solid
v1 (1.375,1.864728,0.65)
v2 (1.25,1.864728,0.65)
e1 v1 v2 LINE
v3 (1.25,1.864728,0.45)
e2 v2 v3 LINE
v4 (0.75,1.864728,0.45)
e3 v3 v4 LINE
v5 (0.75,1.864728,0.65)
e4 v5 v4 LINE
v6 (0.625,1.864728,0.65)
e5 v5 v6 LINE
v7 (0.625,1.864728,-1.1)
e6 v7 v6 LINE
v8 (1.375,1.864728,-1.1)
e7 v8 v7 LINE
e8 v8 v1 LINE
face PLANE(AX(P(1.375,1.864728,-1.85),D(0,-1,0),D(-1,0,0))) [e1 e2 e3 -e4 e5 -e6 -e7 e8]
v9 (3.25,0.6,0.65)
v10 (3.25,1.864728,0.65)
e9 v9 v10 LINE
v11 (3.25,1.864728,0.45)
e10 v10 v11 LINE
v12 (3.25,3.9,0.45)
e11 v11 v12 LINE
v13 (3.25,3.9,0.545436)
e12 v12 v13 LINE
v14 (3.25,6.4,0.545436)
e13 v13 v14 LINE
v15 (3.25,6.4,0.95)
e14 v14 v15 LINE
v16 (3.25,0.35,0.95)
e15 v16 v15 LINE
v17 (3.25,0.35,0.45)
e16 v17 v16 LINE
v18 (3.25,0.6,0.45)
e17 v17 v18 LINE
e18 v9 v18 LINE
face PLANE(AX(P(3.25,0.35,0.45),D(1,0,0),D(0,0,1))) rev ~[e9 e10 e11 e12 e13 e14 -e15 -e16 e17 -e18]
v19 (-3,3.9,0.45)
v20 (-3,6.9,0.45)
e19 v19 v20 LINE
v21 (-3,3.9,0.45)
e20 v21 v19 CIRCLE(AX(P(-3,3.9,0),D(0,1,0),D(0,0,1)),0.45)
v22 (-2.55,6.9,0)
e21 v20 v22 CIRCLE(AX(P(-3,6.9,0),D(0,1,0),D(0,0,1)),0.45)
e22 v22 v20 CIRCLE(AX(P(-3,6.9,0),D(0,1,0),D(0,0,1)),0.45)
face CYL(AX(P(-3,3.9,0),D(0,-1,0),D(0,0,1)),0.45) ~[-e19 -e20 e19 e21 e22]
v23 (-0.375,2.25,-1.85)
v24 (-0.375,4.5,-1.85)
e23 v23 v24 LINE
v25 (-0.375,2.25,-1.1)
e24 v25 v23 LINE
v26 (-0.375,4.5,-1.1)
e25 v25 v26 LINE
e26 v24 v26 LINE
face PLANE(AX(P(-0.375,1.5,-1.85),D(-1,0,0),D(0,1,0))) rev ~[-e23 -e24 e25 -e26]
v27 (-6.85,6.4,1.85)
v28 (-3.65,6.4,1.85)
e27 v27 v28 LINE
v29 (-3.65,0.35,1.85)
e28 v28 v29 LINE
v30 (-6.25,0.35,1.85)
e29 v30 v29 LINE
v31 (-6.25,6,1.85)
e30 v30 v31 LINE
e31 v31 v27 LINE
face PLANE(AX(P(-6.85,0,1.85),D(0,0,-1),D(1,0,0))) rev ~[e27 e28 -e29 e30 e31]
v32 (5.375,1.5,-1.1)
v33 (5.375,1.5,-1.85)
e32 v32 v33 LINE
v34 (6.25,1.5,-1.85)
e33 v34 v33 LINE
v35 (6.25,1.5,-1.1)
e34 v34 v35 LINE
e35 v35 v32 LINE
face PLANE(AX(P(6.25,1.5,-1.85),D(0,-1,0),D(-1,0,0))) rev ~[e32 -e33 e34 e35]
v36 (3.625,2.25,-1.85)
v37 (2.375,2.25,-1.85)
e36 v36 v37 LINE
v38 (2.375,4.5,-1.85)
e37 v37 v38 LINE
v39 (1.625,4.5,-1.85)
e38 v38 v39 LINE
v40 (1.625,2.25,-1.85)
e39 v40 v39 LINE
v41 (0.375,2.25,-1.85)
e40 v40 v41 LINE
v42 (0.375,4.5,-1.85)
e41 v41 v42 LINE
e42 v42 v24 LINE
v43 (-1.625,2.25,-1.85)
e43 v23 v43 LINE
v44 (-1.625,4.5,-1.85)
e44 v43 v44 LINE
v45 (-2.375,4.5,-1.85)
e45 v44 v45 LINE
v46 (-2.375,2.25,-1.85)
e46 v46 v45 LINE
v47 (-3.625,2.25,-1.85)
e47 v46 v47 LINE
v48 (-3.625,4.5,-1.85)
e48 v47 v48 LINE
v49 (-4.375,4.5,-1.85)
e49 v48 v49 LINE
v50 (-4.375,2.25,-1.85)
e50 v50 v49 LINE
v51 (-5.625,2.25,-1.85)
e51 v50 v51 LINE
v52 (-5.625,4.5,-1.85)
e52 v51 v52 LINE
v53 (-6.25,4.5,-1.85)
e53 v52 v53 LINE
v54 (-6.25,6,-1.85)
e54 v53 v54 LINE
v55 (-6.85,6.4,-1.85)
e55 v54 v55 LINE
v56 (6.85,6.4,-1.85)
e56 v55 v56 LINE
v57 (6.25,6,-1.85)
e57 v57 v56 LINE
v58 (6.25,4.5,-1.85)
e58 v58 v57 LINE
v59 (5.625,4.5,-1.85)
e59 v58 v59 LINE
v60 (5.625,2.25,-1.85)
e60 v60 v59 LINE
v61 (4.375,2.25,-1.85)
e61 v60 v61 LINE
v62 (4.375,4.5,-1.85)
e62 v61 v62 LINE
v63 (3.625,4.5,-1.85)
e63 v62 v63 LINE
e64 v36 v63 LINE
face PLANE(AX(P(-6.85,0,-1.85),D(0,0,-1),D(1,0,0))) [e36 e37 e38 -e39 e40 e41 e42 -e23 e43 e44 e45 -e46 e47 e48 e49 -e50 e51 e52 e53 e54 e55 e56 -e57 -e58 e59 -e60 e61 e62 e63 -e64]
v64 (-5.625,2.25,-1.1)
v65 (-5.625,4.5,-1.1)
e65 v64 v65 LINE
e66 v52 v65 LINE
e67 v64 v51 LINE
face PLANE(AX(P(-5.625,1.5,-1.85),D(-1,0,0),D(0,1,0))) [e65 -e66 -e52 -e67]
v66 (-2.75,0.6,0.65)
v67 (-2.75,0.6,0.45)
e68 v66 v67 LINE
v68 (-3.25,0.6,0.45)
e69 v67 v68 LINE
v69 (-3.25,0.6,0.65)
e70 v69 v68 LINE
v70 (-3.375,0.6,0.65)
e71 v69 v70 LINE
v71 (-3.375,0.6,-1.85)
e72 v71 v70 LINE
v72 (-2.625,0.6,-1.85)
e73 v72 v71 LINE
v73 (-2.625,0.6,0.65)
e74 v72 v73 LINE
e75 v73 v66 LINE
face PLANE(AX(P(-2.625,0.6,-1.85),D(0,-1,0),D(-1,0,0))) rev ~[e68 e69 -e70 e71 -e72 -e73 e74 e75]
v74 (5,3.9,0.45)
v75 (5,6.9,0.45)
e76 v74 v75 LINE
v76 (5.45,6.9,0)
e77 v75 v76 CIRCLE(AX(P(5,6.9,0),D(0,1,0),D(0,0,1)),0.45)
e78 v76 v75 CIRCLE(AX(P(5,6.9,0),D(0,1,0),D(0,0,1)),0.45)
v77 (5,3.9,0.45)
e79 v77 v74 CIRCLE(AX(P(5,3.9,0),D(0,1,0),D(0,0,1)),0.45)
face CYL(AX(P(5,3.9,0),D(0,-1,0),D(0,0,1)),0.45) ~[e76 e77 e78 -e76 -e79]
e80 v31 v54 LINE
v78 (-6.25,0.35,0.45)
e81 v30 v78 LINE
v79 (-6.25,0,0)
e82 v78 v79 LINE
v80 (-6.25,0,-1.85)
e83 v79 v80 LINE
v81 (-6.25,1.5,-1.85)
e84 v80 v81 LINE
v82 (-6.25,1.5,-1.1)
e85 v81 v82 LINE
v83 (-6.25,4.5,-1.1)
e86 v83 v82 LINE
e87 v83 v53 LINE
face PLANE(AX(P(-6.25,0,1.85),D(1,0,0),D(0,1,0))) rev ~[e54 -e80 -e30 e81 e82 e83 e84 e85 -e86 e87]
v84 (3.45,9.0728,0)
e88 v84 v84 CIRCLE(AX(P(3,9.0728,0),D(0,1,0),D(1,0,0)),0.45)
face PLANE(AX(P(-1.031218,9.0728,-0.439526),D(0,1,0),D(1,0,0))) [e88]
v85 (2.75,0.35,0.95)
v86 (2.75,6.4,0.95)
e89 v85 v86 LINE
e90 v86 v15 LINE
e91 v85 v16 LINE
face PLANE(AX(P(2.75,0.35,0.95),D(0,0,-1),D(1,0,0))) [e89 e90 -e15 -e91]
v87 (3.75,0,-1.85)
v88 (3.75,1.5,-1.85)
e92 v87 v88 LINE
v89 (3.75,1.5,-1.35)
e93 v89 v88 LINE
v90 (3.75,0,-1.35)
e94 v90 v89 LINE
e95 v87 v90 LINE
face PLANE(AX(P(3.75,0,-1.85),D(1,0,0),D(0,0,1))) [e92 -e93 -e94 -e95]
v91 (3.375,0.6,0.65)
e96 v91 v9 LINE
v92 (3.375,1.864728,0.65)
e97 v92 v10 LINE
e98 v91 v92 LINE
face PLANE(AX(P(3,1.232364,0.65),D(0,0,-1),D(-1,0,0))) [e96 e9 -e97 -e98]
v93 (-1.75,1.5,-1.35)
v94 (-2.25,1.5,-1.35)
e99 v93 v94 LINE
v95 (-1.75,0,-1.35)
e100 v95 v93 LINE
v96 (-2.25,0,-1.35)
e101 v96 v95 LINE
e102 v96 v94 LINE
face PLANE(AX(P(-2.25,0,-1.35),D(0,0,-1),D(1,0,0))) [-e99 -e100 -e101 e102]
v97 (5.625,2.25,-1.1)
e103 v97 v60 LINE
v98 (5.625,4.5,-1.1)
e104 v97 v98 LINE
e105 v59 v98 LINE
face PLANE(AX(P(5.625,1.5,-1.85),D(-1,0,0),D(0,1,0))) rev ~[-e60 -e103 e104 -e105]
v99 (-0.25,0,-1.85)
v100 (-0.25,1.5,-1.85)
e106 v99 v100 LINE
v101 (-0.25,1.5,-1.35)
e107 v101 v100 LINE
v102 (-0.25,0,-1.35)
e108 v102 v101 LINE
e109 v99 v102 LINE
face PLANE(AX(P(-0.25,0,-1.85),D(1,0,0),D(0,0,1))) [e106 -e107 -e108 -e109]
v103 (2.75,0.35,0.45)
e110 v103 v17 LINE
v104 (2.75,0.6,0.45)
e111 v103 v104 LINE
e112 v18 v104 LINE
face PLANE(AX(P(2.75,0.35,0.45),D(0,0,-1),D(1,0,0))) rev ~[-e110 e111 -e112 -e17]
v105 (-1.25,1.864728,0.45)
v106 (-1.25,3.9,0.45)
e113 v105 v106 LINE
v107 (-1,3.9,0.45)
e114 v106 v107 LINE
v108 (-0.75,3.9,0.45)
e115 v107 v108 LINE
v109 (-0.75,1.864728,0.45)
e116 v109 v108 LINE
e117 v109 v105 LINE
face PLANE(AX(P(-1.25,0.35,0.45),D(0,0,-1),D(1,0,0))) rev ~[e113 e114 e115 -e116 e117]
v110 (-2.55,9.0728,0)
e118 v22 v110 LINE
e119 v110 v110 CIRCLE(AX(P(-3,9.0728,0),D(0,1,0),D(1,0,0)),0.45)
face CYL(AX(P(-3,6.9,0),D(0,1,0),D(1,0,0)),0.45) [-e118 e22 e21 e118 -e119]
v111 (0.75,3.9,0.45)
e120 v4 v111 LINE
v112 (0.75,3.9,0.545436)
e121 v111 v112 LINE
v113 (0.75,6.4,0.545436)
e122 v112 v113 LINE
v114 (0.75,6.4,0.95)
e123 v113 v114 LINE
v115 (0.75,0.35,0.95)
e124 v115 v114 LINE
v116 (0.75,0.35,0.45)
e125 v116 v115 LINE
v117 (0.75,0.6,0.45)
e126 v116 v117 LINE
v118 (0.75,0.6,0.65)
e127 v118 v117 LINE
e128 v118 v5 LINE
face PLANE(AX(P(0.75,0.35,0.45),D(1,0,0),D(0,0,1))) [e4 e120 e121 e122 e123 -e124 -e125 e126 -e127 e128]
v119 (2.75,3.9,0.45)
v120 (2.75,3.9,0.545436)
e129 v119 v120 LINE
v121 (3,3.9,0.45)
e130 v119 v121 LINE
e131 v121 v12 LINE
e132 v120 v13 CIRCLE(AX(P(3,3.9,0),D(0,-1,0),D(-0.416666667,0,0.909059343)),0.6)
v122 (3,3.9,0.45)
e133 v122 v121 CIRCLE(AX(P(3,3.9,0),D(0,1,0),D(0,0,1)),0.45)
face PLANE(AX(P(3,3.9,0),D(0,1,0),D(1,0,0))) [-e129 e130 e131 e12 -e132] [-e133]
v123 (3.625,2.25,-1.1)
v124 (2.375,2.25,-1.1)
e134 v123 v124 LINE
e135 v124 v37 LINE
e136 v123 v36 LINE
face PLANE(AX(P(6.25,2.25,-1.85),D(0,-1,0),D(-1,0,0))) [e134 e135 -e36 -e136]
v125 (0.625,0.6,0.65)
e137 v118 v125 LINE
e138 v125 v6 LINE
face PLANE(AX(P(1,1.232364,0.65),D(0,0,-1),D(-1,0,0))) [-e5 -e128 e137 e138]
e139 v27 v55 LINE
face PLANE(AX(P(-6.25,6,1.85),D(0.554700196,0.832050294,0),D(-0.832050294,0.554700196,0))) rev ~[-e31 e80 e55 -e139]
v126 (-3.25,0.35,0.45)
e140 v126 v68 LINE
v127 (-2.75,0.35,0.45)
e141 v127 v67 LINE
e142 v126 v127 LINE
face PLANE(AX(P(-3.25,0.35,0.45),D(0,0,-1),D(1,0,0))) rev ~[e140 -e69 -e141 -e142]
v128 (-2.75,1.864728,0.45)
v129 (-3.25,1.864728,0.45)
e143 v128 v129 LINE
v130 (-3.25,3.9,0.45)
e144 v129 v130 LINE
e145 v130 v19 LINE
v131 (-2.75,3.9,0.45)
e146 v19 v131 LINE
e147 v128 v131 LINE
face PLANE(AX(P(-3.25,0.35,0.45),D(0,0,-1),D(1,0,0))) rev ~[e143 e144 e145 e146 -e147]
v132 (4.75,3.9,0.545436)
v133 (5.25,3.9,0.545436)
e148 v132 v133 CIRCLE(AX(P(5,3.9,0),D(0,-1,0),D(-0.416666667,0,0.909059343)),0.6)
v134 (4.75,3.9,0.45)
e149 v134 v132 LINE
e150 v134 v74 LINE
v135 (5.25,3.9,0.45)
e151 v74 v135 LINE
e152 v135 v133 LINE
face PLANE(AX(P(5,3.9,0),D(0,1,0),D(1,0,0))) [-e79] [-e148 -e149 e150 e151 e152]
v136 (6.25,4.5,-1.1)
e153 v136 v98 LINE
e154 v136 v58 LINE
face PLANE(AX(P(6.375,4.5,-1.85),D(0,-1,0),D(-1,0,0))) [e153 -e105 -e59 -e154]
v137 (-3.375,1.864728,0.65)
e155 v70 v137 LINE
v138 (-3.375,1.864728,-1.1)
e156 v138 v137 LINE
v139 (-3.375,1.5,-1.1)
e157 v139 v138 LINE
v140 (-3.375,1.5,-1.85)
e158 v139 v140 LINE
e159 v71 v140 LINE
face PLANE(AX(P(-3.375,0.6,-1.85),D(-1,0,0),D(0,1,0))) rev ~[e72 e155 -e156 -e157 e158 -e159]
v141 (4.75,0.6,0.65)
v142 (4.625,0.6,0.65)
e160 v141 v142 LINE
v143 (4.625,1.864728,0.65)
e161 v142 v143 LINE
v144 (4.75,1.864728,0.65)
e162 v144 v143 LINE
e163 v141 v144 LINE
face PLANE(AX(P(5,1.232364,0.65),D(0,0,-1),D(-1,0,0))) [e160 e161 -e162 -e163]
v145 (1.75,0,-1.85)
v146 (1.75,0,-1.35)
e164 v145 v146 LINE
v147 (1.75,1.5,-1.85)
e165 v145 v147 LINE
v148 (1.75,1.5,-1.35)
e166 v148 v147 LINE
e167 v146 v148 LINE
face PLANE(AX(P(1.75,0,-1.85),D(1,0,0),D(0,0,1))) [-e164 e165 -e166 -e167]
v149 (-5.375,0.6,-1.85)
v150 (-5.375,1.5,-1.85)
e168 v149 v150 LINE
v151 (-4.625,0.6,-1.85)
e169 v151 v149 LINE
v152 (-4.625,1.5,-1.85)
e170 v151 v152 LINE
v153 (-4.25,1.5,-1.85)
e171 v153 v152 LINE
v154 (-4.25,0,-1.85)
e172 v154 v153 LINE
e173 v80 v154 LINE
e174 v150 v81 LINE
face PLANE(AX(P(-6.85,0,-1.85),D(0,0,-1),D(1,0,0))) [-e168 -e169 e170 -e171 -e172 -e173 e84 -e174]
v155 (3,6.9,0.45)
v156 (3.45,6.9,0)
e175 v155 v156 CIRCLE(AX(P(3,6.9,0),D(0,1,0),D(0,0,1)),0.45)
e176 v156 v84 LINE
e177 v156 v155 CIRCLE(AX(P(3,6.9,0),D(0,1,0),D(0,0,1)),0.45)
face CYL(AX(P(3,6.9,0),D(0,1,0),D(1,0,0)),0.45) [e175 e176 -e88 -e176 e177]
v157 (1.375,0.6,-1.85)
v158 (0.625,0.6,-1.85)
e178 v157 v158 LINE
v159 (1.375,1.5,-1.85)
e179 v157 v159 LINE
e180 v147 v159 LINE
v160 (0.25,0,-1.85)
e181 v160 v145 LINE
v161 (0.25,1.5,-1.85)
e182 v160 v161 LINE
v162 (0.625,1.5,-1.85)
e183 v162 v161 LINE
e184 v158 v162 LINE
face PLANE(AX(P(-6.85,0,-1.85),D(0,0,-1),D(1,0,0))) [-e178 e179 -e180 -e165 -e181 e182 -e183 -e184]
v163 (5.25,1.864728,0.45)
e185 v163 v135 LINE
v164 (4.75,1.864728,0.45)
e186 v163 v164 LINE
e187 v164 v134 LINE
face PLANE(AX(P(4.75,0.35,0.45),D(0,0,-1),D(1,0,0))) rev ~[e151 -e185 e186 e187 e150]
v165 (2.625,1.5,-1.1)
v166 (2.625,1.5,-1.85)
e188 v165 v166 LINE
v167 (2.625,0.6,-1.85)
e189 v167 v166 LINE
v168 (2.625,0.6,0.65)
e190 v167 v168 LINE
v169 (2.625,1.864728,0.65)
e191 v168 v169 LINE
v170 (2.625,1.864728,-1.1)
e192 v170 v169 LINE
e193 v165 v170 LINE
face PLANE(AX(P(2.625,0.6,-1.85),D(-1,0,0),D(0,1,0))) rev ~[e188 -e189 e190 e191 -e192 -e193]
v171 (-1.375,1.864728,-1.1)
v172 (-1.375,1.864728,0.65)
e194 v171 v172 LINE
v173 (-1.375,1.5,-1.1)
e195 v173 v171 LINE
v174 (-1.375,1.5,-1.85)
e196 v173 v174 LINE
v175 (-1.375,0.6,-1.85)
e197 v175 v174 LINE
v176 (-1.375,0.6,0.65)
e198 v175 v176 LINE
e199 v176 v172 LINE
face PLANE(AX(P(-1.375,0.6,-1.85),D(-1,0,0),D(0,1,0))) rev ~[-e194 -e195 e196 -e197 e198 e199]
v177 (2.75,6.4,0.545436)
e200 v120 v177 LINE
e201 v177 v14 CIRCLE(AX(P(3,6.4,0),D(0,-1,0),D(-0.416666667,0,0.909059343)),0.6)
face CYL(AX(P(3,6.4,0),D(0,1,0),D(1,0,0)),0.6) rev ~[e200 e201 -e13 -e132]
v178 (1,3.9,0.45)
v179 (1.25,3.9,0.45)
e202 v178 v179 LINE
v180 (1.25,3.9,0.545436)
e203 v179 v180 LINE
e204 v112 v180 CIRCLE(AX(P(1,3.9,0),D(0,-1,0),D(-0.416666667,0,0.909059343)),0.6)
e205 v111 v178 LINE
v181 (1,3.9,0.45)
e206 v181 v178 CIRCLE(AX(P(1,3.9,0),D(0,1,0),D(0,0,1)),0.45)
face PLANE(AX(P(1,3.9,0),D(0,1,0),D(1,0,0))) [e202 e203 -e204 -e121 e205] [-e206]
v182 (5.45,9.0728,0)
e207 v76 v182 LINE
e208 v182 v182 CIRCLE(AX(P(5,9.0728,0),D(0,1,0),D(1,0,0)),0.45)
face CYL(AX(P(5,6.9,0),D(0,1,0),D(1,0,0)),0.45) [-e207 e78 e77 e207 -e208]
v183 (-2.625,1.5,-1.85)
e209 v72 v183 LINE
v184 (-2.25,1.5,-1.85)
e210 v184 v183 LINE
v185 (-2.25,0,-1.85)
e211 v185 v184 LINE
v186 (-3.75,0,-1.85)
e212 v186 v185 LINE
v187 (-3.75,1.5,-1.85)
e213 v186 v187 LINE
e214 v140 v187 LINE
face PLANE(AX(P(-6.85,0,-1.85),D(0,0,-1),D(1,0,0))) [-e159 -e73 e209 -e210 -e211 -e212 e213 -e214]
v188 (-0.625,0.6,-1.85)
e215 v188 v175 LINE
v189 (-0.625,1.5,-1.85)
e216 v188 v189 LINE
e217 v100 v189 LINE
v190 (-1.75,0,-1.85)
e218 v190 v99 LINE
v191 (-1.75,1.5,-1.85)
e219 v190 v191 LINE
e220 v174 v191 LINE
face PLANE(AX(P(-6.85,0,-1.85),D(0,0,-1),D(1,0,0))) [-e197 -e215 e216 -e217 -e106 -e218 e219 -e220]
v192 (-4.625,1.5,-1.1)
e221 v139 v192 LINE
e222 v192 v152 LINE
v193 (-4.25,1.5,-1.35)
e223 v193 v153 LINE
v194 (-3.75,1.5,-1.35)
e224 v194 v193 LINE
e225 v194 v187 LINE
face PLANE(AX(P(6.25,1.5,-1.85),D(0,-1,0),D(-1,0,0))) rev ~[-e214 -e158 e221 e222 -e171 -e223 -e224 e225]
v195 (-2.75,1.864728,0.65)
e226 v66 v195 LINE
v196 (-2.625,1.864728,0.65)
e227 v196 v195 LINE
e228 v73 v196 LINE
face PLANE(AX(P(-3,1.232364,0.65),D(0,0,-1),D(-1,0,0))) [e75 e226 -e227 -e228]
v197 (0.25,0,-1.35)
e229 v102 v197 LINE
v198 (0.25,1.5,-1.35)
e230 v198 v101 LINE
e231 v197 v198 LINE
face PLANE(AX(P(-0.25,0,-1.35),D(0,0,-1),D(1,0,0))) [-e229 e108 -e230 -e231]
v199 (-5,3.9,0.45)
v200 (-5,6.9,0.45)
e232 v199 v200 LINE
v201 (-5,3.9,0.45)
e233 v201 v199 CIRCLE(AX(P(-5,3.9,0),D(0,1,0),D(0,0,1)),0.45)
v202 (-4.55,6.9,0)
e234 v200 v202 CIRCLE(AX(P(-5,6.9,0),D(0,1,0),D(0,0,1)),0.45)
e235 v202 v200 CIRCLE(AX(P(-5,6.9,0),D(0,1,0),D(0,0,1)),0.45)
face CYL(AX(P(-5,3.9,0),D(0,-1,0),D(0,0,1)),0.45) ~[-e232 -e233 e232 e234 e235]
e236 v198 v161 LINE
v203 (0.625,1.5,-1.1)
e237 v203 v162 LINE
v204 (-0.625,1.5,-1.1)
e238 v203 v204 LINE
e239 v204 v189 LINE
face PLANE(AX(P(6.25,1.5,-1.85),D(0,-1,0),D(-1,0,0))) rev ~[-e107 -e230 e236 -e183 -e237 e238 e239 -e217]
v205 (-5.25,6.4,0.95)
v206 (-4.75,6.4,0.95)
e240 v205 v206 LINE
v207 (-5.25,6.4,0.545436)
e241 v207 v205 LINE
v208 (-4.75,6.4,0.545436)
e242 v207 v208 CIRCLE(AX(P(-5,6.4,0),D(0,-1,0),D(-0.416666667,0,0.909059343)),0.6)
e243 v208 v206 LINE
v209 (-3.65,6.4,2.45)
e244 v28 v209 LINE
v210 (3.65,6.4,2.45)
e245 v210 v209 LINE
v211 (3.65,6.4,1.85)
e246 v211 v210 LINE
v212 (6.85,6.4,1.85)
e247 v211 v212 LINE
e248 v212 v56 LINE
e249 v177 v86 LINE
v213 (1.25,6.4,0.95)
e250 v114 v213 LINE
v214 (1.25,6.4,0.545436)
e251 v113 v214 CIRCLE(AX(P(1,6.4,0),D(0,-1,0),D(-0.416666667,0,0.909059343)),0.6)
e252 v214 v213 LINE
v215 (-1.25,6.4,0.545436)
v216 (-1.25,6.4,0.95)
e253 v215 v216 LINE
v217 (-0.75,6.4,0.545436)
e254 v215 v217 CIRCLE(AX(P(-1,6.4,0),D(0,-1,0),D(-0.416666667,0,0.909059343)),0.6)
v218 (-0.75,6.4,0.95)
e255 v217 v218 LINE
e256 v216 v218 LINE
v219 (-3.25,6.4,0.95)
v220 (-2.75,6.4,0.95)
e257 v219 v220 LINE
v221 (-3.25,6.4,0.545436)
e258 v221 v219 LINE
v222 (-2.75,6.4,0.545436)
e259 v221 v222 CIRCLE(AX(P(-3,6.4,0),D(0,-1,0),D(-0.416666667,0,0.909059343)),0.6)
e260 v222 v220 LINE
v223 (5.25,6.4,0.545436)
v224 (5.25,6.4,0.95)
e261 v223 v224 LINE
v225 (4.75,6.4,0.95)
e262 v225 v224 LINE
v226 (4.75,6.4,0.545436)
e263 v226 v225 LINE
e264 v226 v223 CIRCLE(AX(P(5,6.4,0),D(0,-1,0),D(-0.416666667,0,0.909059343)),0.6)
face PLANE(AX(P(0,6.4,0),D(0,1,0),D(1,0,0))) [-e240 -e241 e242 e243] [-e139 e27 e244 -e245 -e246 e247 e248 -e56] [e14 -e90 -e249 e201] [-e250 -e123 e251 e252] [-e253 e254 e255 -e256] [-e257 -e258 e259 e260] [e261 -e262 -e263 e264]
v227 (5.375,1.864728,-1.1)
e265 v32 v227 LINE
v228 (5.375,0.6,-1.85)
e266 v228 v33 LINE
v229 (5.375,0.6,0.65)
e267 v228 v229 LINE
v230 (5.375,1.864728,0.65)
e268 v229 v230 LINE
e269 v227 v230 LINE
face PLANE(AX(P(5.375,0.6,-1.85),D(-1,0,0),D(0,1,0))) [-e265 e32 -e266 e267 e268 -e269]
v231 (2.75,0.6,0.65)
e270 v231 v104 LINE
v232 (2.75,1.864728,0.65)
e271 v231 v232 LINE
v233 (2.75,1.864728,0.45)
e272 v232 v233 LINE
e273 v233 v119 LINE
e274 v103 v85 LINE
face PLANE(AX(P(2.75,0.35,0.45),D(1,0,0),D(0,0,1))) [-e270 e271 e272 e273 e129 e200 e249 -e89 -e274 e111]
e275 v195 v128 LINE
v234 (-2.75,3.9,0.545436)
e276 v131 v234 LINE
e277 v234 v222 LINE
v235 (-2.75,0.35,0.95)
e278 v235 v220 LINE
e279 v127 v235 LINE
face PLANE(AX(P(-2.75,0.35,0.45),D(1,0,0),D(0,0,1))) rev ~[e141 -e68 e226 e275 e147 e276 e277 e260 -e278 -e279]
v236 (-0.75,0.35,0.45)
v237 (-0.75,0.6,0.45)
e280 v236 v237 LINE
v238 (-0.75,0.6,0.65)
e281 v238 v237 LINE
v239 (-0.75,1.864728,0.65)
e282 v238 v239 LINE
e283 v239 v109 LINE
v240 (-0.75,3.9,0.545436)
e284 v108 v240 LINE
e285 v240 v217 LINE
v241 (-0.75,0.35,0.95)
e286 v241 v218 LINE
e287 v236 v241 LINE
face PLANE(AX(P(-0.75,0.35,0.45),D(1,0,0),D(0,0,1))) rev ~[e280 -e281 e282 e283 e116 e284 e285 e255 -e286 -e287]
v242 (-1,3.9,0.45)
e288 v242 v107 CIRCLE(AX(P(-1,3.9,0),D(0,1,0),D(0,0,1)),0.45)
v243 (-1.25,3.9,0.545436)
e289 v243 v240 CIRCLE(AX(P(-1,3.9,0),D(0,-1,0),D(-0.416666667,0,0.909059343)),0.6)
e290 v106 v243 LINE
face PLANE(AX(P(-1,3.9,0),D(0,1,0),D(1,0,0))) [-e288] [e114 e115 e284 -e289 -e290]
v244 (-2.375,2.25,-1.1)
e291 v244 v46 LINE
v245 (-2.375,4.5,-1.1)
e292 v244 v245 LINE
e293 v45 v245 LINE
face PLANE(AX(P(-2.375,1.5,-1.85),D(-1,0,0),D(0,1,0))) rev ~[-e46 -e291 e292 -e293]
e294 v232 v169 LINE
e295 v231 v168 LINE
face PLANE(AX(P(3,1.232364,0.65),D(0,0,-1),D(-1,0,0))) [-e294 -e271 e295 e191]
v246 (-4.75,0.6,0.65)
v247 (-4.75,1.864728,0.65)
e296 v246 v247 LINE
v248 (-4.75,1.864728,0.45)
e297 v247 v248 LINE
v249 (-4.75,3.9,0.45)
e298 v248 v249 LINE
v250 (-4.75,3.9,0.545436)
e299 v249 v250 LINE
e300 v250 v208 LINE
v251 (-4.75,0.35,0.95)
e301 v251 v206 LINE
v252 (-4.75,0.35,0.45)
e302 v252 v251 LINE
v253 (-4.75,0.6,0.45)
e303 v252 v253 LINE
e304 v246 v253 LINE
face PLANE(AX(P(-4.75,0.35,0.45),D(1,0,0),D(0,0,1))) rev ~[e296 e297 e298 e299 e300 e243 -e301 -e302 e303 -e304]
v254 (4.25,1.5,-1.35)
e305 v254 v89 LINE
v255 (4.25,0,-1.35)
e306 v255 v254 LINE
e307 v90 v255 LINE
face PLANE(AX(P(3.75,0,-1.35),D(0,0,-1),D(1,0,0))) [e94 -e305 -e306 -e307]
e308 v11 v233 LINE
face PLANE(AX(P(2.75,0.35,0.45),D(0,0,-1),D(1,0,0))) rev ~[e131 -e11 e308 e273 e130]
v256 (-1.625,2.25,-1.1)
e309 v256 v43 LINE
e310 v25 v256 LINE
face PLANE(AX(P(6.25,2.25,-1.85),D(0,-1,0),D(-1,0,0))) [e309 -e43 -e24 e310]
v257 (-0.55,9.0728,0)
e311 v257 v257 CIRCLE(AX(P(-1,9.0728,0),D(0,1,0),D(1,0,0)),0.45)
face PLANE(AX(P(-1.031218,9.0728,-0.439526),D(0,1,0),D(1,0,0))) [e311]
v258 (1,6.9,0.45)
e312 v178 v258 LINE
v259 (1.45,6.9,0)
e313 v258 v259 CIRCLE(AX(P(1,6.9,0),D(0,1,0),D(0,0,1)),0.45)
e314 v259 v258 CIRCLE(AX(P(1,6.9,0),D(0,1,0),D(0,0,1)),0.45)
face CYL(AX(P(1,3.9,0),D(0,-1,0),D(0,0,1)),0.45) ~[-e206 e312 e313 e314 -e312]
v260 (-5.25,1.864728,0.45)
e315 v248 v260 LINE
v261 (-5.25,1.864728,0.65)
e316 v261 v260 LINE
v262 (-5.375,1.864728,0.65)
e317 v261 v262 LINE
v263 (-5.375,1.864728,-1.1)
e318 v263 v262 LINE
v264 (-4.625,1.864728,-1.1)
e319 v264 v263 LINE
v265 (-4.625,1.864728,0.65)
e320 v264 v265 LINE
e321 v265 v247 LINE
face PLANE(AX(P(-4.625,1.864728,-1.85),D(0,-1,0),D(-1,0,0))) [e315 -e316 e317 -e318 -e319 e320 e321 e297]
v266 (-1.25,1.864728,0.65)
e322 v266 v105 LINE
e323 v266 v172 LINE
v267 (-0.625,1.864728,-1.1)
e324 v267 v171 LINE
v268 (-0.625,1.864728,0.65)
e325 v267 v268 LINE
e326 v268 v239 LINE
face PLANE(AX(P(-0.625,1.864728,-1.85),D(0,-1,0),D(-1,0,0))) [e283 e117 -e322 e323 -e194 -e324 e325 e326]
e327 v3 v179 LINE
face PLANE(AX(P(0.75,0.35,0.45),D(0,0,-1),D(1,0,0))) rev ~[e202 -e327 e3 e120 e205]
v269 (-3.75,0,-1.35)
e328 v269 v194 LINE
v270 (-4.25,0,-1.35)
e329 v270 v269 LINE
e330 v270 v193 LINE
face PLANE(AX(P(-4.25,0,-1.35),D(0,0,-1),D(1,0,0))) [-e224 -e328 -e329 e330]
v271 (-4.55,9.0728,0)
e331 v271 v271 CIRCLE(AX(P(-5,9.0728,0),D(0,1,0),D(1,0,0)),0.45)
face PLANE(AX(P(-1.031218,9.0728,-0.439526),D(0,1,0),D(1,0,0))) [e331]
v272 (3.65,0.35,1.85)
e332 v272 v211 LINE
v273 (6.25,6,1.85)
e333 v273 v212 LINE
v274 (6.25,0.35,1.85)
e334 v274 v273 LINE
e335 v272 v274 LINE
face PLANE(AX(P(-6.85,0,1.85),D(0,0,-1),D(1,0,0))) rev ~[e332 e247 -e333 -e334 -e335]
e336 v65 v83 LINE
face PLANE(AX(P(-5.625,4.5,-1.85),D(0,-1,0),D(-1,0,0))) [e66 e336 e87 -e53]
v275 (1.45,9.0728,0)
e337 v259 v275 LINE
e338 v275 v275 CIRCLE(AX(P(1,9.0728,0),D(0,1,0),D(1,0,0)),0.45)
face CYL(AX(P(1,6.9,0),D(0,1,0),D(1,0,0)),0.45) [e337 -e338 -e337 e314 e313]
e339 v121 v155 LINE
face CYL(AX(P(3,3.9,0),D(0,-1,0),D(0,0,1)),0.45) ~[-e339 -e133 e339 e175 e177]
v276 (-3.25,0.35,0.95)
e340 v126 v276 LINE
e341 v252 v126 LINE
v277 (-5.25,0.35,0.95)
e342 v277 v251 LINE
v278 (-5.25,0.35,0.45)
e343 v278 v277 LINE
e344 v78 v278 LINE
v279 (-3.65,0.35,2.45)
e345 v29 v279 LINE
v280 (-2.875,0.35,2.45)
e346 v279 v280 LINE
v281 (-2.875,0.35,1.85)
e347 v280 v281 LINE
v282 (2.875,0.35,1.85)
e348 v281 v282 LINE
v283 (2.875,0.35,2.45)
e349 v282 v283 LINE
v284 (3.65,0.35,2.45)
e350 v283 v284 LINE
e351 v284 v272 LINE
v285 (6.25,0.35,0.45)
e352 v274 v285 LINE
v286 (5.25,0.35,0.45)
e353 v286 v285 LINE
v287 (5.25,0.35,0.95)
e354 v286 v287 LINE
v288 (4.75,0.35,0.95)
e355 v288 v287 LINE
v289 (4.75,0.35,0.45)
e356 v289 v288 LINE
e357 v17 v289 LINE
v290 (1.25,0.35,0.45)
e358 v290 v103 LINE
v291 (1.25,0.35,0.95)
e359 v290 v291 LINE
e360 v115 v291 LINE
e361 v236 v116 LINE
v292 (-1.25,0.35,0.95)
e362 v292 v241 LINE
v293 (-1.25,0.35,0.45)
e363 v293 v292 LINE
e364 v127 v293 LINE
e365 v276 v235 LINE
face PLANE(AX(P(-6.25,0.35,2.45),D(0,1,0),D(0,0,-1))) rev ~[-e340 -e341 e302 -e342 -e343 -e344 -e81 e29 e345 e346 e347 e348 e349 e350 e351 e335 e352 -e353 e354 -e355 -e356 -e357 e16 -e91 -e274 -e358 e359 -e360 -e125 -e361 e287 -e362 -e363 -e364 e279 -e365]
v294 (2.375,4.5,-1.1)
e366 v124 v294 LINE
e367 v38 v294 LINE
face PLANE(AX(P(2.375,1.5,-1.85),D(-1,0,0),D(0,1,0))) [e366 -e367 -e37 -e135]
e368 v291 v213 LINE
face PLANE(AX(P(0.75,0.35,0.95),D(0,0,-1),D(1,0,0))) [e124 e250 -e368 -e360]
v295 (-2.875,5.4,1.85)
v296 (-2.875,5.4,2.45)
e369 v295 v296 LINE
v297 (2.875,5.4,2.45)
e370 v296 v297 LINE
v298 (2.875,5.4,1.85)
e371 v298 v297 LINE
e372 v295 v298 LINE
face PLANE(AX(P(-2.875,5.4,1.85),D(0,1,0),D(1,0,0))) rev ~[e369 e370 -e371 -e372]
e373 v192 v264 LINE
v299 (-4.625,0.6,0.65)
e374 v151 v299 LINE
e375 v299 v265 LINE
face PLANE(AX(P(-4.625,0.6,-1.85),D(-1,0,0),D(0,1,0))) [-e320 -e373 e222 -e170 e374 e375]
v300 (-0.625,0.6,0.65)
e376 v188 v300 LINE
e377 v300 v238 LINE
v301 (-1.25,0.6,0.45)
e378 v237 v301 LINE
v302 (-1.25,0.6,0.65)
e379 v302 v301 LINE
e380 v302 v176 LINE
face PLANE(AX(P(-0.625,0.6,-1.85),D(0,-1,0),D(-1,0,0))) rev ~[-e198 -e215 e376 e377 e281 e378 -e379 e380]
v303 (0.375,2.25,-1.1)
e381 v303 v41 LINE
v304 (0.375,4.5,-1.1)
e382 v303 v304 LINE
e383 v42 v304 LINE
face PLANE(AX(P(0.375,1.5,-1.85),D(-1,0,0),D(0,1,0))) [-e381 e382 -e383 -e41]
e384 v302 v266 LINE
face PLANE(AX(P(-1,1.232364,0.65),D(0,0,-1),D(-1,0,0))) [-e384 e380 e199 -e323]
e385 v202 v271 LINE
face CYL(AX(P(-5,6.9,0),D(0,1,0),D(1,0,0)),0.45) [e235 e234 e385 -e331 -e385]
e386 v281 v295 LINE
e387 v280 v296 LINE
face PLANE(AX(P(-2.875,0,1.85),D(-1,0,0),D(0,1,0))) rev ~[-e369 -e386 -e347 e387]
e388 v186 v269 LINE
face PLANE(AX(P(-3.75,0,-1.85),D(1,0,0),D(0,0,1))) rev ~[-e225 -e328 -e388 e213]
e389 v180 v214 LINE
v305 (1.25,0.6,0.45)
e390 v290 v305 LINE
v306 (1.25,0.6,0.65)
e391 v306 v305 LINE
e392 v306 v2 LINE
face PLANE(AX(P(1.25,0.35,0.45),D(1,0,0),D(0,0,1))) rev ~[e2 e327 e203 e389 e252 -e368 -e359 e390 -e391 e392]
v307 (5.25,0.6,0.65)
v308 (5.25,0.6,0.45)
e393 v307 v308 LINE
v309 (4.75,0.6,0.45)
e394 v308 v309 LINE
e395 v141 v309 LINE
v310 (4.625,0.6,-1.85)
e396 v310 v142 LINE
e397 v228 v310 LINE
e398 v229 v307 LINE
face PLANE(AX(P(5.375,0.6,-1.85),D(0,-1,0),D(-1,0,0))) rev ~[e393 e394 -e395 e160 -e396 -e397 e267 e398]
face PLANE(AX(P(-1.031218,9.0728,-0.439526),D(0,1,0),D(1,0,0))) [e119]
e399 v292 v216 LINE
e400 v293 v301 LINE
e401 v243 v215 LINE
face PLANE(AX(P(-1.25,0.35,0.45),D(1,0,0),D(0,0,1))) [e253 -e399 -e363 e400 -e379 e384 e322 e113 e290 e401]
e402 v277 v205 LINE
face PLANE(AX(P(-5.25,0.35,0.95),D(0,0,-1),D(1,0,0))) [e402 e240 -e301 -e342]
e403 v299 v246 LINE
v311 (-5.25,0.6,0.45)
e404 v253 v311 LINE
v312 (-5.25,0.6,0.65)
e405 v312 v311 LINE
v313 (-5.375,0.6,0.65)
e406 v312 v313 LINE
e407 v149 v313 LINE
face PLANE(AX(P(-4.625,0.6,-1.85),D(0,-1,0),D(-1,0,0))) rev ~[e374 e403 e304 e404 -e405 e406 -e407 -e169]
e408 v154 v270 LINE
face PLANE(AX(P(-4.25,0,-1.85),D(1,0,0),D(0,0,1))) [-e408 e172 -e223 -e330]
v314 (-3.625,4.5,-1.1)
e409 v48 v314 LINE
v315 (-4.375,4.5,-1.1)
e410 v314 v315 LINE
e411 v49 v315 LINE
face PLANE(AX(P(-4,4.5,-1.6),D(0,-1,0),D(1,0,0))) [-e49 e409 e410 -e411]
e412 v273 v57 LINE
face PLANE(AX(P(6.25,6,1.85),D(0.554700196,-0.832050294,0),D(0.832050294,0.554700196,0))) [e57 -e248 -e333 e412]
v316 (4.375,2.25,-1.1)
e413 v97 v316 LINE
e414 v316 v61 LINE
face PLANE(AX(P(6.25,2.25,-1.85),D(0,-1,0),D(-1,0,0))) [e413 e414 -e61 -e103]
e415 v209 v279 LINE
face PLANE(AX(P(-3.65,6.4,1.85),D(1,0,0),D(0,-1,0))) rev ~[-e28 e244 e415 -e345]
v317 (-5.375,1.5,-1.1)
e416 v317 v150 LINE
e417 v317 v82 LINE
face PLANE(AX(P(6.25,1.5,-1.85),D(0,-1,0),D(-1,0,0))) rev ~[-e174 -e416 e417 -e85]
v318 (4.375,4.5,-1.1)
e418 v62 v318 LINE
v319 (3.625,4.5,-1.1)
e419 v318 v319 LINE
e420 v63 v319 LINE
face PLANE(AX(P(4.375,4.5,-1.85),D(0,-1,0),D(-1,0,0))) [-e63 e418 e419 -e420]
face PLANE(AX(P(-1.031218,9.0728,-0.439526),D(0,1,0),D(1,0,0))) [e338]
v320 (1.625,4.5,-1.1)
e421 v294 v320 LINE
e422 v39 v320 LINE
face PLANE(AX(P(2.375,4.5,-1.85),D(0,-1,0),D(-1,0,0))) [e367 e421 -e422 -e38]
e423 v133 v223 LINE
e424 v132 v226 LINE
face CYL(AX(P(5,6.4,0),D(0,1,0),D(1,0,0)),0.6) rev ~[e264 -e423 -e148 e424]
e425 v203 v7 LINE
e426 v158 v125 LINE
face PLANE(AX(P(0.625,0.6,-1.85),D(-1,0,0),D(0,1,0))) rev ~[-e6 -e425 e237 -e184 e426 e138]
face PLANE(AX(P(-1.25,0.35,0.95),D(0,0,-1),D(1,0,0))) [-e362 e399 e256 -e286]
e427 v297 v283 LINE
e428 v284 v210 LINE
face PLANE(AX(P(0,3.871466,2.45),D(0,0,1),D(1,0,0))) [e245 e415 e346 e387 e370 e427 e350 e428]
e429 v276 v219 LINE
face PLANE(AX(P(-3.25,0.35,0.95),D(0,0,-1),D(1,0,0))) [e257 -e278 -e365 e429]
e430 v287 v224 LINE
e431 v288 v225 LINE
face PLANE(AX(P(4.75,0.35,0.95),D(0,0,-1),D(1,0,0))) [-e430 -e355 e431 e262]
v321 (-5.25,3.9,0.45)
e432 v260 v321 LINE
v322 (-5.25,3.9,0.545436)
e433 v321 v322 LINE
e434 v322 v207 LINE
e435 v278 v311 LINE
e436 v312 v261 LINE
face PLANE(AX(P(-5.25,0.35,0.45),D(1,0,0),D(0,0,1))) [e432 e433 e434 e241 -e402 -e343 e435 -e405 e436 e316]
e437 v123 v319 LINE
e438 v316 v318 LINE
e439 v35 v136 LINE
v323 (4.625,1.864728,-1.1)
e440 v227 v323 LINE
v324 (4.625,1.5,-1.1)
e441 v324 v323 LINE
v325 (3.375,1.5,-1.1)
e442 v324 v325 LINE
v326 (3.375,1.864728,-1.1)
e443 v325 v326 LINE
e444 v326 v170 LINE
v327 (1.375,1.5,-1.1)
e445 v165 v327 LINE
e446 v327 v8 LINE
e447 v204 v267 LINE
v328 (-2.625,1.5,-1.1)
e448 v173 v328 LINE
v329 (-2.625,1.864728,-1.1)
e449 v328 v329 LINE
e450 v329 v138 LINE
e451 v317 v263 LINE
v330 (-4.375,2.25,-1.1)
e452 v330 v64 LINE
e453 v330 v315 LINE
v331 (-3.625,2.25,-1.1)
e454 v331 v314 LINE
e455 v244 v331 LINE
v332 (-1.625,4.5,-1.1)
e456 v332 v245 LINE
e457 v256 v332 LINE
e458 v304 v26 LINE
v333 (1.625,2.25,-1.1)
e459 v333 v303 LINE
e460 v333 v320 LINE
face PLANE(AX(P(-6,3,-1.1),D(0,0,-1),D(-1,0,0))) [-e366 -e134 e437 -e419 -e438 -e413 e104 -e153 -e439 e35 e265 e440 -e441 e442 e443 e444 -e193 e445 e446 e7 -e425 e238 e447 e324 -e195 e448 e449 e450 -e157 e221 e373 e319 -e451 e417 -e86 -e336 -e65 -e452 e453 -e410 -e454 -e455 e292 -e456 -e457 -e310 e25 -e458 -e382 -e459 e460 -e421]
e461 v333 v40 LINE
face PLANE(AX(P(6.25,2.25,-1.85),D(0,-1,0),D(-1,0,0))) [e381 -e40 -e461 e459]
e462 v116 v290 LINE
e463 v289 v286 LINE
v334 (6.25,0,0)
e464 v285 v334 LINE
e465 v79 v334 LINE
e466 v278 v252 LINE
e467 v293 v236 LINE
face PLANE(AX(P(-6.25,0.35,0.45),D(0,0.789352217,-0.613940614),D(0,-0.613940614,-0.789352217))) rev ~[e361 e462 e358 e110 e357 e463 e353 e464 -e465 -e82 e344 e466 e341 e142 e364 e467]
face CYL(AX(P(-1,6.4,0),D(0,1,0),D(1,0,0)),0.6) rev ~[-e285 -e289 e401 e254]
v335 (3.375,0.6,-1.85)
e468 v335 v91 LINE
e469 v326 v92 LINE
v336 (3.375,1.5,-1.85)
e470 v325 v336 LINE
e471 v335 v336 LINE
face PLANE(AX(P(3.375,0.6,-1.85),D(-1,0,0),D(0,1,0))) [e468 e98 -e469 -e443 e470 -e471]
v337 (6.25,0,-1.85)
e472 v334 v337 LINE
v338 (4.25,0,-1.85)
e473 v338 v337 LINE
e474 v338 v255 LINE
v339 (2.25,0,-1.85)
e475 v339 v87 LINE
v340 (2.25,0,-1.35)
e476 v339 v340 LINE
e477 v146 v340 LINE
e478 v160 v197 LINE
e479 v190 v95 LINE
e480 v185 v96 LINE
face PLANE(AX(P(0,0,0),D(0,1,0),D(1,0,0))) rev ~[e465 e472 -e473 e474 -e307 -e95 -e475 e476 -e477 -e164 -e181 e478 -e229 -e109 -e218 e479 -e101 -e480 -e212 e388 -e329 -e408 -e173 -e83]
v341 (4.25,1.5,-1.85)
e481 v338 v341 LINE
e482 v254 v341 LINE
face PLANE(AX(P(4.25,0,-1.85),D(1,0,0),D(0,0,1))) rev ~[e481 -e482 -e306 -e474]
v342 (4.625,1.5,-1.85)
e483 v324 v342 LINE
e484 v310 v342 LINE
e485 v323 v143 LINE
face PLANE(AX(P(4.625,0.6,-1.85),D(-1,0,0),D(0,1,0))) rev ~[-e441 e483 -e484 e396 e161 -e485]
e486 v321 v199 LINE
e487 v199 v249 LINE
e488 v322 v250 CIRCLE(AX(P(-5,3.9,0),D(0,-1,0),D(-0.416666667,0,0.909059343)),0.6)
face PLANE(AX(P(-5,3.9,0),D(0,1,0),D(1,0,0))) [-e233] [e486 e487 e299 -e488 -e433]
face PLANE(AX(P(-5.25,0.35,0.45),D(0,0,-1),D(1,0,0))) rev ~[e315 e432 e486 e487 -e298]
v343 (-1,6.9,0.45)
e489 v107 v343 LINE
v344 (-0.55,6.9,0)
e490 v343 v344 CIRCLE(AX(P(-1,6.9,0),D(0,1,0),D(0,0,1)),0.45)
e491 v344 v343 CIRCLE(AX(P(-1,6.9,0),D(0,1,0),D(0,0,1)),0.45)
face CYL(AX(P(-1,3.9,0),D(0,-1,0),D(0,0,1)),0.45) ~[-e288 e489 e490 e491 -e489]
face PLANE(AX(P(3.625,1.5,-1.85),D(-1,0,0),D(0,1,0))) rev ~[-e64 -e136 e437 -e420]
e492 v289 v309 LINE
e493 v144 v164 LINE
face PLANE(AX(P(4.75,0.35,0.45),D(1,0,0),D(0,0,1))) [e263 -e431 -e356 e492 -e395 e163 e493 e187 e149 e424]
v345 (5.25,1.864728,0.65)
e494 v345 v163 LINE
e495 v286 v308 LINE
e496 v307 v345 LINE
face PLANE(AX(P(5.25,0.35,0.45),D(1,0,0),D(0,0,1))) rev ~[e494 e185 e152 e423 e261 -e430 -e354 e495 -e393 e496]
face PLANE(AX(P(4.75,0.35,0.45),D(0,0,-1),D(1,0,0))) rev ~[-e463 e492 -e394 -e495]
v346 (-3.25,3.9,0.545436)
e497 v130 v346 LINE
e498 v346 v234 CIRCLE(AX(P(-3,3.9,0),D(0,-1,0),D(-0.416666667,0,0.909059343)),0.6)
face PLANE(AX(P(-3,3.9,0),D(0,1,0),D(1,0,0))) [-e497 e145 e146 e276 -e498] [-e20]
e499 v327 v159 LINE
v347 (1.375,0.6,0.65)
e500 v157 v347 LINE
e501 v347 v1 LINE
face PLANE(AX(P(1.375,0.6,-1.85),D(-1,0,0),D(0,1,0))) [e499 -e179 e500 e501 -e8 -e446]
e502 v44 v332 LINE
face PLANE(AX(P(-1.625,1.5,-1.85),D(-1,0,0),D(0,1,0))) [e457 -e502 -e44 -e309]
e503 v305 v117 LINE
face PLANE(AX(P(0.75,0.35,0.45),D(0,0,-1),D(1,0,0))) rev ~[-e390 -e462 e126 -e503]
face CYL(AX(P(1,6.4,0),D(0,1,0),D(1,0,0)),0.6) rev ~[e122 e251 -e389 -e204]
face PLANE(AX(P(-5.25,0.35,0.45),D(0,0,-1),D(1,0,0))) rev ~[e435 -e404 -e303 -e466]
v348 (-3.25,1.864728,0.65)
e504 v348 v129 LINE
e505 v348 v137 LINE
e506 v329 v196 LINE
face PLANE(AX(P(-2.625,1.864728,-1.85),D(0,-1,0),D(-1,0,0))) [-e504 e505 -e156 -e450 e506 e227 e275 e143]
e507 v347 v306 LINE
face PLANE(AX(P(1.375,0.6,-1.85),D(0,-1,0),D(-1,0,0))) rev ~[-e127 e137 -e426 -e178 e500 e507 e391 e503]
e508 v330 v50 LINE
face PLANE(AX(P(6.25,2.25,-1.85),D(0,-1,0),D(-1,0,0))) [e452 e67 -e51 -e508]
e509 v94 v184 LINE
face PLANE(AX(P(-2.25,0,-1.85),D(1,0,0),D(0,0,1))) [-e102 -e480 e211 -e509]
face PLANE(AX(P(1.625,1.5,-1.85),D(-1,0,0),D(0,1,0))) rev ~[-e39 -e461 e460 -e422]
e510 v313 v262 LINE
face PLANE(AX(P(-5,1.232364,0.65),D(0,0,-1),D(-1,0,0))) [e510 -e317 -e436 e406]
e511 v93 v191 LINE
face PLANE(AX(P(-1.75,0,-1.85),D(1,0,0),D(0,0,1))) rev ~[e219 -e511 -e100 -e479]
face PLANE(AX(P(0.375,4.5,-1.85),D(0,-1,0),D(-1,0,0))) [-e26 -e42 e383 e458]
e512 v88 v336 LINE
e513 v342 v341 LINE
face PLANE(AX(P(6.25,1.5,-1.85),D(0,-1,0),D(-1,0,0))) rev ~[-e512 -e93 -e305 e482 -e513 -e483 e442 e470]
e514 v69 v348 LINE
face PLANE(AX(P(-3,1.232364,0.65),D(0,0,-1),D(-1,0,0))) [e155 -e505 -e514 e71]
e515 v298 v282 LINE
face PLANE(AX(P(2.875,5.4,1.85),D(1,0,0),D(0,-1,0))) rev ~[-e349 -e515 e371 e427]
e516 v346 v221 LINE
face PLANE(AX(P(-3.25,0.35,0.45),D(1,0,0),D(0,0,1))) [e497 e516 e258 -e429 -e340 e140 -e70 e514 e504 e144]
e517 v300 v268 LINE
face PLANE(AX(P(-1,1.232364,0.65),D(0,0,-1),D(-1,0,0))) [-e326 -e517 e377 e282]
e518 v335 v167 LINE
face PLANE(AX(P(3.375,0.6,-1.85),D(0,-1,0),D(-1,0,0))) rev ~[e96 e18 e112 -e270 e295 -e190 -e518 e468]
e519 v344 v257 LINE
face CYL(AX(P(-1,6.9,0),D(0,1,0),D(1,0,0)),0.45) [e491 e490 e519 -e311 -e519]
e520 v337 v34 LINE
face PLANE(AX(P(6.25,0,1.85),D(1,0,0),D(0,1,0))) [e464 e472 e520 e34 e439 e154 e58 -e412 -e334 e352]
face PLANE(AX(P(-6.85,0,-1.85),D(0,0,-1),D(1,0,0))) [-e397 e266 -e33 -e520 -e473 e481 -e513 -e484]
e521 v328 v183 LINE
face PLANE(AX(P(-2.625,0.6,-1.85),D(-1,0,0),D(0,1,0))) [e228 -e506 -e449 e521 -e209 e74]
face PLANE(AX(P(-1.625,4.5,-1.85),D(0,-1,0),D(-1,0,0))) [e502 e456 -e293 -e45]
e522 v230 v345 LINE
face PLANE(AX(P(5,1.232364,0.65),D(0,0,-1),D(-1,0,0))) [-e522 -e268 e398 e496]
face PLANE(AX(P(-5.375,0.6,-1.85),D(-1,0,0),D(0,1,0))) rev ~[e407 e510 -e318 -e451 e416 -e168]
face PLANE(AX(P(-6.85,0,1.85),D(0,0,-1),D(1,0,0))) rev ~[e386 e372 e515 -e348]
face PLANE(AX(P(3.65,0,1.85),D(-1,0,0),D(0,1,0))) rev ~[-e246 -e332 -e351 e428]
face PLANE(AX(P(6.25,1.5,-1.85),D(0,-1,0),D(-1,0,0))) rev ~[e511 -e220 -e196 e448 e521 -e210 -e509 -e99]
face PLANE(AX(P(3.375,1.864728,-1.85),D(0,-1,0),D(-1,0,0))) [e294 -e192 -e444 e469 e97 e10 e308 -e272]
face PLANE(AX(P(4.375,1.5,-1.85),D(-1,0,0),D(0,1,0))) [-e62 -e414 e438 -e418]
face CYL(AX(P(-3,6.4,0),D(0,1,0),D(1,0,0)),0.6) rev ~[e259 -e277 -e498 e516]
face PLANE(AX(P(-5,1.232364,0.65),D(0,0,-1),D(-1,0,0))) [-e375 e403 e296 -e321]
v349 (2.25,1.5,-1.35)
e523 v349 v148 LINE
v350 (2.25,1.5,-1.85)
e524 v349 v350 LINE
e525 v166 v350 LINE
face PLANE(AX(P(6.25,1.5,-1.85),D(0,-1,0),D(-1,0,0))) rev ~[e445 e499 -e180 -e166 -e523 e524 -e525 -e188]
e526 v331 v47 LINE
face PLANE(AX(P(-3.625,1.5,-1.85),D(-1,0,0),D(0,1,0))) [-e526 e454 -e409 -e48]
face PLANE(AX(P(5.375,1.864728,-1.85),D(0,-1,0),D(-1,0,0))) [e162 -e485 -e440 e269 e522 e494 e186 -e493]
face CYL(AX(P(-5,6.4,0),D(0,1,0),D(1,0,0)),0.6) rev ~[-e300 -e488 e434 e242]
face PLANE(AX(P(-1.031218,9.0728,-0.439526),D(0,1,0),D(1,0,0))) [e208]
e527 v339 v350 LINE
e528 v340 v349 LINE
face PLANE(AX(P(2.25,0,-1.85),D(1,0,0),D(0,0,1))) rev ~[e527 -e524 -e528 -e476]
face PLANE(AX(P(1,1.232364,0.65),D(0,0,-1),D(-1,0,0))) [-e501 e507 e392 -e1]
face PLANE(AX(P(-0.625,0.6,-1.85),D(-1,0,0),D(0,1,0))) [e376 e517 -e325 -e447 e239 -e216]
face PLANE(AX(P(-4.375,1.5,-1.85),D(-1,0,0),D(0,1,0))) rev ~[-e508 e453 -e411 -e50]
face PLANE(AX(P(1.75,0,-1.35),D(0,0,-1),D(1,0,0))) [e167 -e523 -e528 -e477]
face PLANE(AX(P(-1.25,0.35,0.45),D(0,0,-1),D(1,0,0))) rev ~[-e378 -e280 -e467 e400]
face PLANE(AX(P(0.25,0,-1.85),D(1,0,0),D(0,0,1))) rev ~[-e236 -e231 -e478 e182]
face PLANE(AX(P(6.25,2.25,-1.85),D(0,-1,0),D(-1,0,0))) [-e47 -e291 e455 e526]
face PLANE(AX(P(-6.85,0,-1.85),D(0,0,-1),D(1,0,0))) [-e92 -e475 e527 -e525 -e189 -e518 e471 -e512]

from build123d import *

# Parameters (mm, degrees)
SKETCH_1_W             = 13.7
SKETCH_1_H             = 3.7
EXTRUDE_1_DEPTH        = 6.4
CUT_EXTRUDE_1_REACH    = 12.078
EXTRUDE_2_DEPTH        = 0.6
CUT_EXTRUDE_2_REACH    = 16.784
SKETCH_6_W             = 0.5
SKETCH_6_H             = 0.5
CUT_EXTRUDE_3_DEPTH    = 6.05
PATTERN_LINEAR_1_COUNT = 6
PATTERN_LINEAR_1_PITCH = 2
SKETCH_7_W             = 0.5
SKETCH_7_H             = 0.5
CUT_EXTRUDE_4_DEPTH    = 4.5
PATTERN_LINEAR_2_COUNT = 5
PATTERN_LINEAR_2_PITCH = 2
SKETCH_8_W             = 12.5
SKETCH_8_H             = 0.75
CUT_EXTRUDE_5_DEPTH    = 0.75
SKETCH_9_W             = 0.75
SKETCH_9_H             = 3
CUT_EXTRUDE_6_DEPTH    = 0.75
PATTERN_LINEAR_3_COUNT = 7
PATTERN_LINEAR_3_PITCH = 2
SKETCH_10_W            = 0.75
SKETCH_10_H            = 1.264727748
CUT_EXTRUDE_7_DEPTH    = 2.5
PATTERN_LINEAR_4_COUNT = 6
PATTERN_LINEAR_4_PITCH = 2
SKETCH_11_R            = 0.6
CUT_EXTRUDE_8_DEPTH    = 2.5
PATTERN_LINEAR_5_COUNT = 6
PATTERN_LINEAR_5_PITCH = 2
SKETCH_12_R            = 0.45
EXTRUDE_4_DEPTH        = 3
PATTERN_LINEAR_6_COUNT = 6
PATTERN_LINEAR_6_PITCH = 2
SKETCH_15_R            = 0.45
PATTERN_LINEAR_7_COUNT = 6
PATTERN_LINEAR_7_PITCH = 2
SKETCH_16_W            = 19.020248072
SKETCH_16_H            = 7.063508143
CUT_EXTRUDE_9_DEPTH    = 4


with BuildPart() as part:
    # 草图1 → 凸台-拉伸1 (new body)
    with BuildSketch(Plane(origin=(0, 0, 0), x_dir=(1, 0, 0), z_dir=(0, 1, 0))):
        Rectangle(SKETCH_1_W, SKETCH_1_H)
    extrude(amount=EXTRUDE_1_DEPTH)

    # 草图2 → 切除-拉伸1 (cut, up to next)
    with BuildSketch(Plane.XY.offset(1.85), mode=Mode.PRIVATE) as cut_extrude_1_sk1:
        Polygon((-6.25, 0), (-6.25, 6), (-6.85, 6.4), (-6.85, 0), align=None)
    cut_extrude_1_tool1 = extrude(cut_extrude_1_sk1.sketch, amount=-CUT_EXTRUDE_1_REACH, mode=Mode.PRIVATE) & part.part
    # 草图2 → 切除-拉伸1 (cut, up to next)
    with BuildSketch(Plane.XY.offset(1.85), mode=Mode.PRIVATE) as cut_extrude_1_sk2:
        Polygon((6.85, 0), (6.25, 0), (6.25, 6), (6.85, 6.4), align=None)
    cut_extrude_1_tool2 = extrude(cut_extrude_1_sk2.sketch, amount=-CUT_EXTRUDE_1_REACH, mode=Mode.PRIVATE) & part.part
    add(cut_extrude_1_tool1.solids().sort_by_distance((-6.553226, 3.101075, 1.85))[0], mode=Mode.SUBTRACT)
    add(cut_extrude_1_tool2.solids().sort_by_distance((6.553226, 3.101075, 1.85))[0], mode=Mode.SUBTRACT)

    # 草图4 → 凸台-拉伸2 (add)
    with BuildSketch(Plane.XY.offset(1.85)):
        Polygon((-3.65, 0), (-2.875, 0), (-2.875, 5.4), (2.875, 5.4), (2.875, 0), (3.65, 0), (3.65, 6.4), (-3.65, 6.4), align=None)
    extrude(amount=EXTRUDE_2_DEPTH)

    # 切除-拉伸2: up to this face of the body (flat: up to its plane)
    cut_extrude_2_end = Plane(part.part.faces().sort_by_distance((6.25, 3, 0))[0])
    # 草图5 → 切除-拉伸2 (cut, up to the picked face)
    with BuildSketch(Plane.ZY.offset(6.25), mode=Mode.PRIVATE) as cut_extrude_2_sk1:
        Polygon((2.45, 0.35), (0.45, 0.35), (0, 0), (2.45, 0), align=None)
    cut_extrude_2_tool1 = split(extrude(cut_extrude_2_sk1.sketch, amount=-CUT_EXTRUDE_2_REACH, mode=Mode.PRIVATE), bisect_by=cut_extrude_2_end, keep=Keep.BOTH, mode=Mode.PRIVATE)
    add(cut_extrude_2_tool1.solids().sort_by(Axis((-6.25, 0.169101, 1.333708), (1, 0, 0)))[0], mode=Mode.SUBTRACT)

    # 草图6 → 切除-拉伸3 (cut)
    with BuildSketch(Plane.XZ.offset(-0.35)):
        with Locations((-5, 0.7)):
            Rectangle(SKETCH_6_W, SKETCH_6_H)
    cut_extrude_3 = extrude(amount=-CUT_EXTRUDE_3_DEPTH, mode=Mode.SUBTRACT)

    # 阵列(线性)1: 切除-拉伸3 ×6
    with Locations(*[(i * PATTERN_LINEAR_1_PITCH, 0, 0) for i in range(1, PATTERN_LINEAR_1_COUNT)]):
        add(cut_extrude_3, mode=Mode.SUBTRACT)

    # 草图7 → 切除-拉伸4 (cut)
    with BuildSketch(Plane.XZ):
        with Locations((-4, -1.6)):
            Rectangle(SKETCH_7_W, SKETCH_7_H)
    cut_extrude_4 = extrude(amount=-CUT_EXTRUDE_4_DEPTH, mode=Mode.SUBTRACT)

    # 阵列(线性)2: 切除-拉伸4 ×5
    with Locations(*[(i * PATTERN_LINEAR_2_PITCH, 0, 0) for i in range(1, PATTERN_LINEAR_2_COUNT)]):
        add(cut_extrude_4, mode=Mode.SUBTRACT)

    # 草图8 → 切除-拉伸5 (cut)
    with BuildSketch(Plane(origin=(0, 0, -1.85), x_dir=(-1, 0, 0), z_dir=(0, 0, -1))):
        with Locations((0, 1.875)):
            Rectangle(SKETCH_8_W, SKETCH_8_H)
    extrude(amount=-CUT_EXTRUDE_5_DEPTH, mode=Mode.SUBTRACT)

    # 草图9 → 切除-拉伸6 (cut)
    with BuildSketch(Plane(origin=(0, 0, -1.85), x_dir=(-1, 0, 0), z_dir=(0, 0, -1))):
        with Locations((-6, 3)):
            Rectangle(SKETCH_9_W, SKETCH_9_H)
    cut_extrude_6 = extrude(amount=-CUT_EXTRUDE_6_DEPTH, mode=Mode.SUBTRACT)

    # 阵列(线性)3: 切除-拉伸6 ×7
    with Locations(*[(-i * PATTERN_LINEAR_3_PITCH, 0, 0) for i in range(1, PATTERN_LINEAR_3_COUNT)]):
        add(cut_extrude_6, mode=Mode.SUBTRACT)

    # 草图10 → 切除-拉伸7 (cut)
    with BuildSketch(Plane(origin=(0, 0, -1.85), x_dir=(-1, 0, 0), z_dir=(0, 0, -1))):
        with Locations((-5, 1.232363874)):
            Rectangle(SKETCH_10_W, SKETCH_10_H)
    cut_extrude_7 = extrude(amount=-CUT_EXTRUDE_7_DEPTH, mode=Mode.SUBTRACT)

    # 阵列(线性)4: 切除-拉伸7 ×6
    with Locations(*[(-i * PATTERN_LINEAR_4_PITCH, 0, 0) for i in range(1, PATTERN_LINEAR_4_COUNT)]):
        add(cut_extrude_7, mode=Mode.SUBTRACT)

    # 草图11 → 切除-拉伸8 (cut)
    with BuildSketch(Plane(origin=(0, 6.4, 0), x_dir=(1, 0, 0), z_dir=(0, 1, 0))):
        with Locations((-5, 0)):
            Circle(SKETCH_11_R)
    cut_extrude_8 = extrude(amount=-CUT_EXTRUDE_8_DEPTH, mode=Mode.SUBTRACT)

    # 阵列(线性)5: 切除-拉伸8 ×6
    with Locations(*[(i * PATTERN_LINEAR_5_PITCH, 0, 0) for i in range(1, PATTERN_LINEAR_5_COUNT)]):
        add(cut_extrude_8, mode=Mode.SUBTRACT)

    # 草图12 → 凸台-拉伸4 (add)
    with BuildSketch(Plane(origin=(0, 3.9, 0), x_dir=(1, 0, 0), z_dir=(0, 1, 0))):
        with Locations(Location((-5, 0, 0), (0, 0, 270))):
            Circle(SKETCH_12_R)
    extrude_4 = extrude(amount=EXTRUDE_4_DEPTH)

    # 阵列(线性)6: 凸台-拉伸4 ×6
    with Locations(*[(i * PATTERN_LINEAR_6_PITCH, 0, 0) for i in range(1, PATTERN_LINEAR_6_COUNT)]):
        add(extrude_4)

    # 扫描1: sweep along a path in 草图13
    with BuildLine(Plane.ZY.offset(5)) as sweep_1_path:
        Line((0, 6.9), (0, 13.072800135))
    # 草图15 → 扫描1 (sweep)
    with BuildSketch(Plane(origin=(0, 6.9, 0), x_dir=(1, 0, 0), z_dir=(0, 1, 0))):
        with Locations((-5, 0)):
            Circle(SKETCH_15_R)
    sweep_1 = sweep(path=sweep_1_path.line)

    # 阵列(线性)7: 扫描1 ×6
    with Locations(*[(i * PATTERN_LINEAR_7_PITCH, 0, 0) for i in range(1, PATTERN_LINEAR_7_COUNT)]):
        add(sweep_1)

    # 草图16 → 切除-拉伸9 (cut)
    with BuildSketch(Plane(origin=(0, 13.072800135, 0), x_dir=(1, 0, 0), z_dir=(0, 1, 0))):
        with Locations((-1.031218269, 0.439526414)):
            Rectangle(SKETCH_16_W, SKETCH_16_H)
    extrude(amount=-CUT_EXTRUDE_9_DEPTH, mode=Mode.SUBTRACT)


solid = part.part
